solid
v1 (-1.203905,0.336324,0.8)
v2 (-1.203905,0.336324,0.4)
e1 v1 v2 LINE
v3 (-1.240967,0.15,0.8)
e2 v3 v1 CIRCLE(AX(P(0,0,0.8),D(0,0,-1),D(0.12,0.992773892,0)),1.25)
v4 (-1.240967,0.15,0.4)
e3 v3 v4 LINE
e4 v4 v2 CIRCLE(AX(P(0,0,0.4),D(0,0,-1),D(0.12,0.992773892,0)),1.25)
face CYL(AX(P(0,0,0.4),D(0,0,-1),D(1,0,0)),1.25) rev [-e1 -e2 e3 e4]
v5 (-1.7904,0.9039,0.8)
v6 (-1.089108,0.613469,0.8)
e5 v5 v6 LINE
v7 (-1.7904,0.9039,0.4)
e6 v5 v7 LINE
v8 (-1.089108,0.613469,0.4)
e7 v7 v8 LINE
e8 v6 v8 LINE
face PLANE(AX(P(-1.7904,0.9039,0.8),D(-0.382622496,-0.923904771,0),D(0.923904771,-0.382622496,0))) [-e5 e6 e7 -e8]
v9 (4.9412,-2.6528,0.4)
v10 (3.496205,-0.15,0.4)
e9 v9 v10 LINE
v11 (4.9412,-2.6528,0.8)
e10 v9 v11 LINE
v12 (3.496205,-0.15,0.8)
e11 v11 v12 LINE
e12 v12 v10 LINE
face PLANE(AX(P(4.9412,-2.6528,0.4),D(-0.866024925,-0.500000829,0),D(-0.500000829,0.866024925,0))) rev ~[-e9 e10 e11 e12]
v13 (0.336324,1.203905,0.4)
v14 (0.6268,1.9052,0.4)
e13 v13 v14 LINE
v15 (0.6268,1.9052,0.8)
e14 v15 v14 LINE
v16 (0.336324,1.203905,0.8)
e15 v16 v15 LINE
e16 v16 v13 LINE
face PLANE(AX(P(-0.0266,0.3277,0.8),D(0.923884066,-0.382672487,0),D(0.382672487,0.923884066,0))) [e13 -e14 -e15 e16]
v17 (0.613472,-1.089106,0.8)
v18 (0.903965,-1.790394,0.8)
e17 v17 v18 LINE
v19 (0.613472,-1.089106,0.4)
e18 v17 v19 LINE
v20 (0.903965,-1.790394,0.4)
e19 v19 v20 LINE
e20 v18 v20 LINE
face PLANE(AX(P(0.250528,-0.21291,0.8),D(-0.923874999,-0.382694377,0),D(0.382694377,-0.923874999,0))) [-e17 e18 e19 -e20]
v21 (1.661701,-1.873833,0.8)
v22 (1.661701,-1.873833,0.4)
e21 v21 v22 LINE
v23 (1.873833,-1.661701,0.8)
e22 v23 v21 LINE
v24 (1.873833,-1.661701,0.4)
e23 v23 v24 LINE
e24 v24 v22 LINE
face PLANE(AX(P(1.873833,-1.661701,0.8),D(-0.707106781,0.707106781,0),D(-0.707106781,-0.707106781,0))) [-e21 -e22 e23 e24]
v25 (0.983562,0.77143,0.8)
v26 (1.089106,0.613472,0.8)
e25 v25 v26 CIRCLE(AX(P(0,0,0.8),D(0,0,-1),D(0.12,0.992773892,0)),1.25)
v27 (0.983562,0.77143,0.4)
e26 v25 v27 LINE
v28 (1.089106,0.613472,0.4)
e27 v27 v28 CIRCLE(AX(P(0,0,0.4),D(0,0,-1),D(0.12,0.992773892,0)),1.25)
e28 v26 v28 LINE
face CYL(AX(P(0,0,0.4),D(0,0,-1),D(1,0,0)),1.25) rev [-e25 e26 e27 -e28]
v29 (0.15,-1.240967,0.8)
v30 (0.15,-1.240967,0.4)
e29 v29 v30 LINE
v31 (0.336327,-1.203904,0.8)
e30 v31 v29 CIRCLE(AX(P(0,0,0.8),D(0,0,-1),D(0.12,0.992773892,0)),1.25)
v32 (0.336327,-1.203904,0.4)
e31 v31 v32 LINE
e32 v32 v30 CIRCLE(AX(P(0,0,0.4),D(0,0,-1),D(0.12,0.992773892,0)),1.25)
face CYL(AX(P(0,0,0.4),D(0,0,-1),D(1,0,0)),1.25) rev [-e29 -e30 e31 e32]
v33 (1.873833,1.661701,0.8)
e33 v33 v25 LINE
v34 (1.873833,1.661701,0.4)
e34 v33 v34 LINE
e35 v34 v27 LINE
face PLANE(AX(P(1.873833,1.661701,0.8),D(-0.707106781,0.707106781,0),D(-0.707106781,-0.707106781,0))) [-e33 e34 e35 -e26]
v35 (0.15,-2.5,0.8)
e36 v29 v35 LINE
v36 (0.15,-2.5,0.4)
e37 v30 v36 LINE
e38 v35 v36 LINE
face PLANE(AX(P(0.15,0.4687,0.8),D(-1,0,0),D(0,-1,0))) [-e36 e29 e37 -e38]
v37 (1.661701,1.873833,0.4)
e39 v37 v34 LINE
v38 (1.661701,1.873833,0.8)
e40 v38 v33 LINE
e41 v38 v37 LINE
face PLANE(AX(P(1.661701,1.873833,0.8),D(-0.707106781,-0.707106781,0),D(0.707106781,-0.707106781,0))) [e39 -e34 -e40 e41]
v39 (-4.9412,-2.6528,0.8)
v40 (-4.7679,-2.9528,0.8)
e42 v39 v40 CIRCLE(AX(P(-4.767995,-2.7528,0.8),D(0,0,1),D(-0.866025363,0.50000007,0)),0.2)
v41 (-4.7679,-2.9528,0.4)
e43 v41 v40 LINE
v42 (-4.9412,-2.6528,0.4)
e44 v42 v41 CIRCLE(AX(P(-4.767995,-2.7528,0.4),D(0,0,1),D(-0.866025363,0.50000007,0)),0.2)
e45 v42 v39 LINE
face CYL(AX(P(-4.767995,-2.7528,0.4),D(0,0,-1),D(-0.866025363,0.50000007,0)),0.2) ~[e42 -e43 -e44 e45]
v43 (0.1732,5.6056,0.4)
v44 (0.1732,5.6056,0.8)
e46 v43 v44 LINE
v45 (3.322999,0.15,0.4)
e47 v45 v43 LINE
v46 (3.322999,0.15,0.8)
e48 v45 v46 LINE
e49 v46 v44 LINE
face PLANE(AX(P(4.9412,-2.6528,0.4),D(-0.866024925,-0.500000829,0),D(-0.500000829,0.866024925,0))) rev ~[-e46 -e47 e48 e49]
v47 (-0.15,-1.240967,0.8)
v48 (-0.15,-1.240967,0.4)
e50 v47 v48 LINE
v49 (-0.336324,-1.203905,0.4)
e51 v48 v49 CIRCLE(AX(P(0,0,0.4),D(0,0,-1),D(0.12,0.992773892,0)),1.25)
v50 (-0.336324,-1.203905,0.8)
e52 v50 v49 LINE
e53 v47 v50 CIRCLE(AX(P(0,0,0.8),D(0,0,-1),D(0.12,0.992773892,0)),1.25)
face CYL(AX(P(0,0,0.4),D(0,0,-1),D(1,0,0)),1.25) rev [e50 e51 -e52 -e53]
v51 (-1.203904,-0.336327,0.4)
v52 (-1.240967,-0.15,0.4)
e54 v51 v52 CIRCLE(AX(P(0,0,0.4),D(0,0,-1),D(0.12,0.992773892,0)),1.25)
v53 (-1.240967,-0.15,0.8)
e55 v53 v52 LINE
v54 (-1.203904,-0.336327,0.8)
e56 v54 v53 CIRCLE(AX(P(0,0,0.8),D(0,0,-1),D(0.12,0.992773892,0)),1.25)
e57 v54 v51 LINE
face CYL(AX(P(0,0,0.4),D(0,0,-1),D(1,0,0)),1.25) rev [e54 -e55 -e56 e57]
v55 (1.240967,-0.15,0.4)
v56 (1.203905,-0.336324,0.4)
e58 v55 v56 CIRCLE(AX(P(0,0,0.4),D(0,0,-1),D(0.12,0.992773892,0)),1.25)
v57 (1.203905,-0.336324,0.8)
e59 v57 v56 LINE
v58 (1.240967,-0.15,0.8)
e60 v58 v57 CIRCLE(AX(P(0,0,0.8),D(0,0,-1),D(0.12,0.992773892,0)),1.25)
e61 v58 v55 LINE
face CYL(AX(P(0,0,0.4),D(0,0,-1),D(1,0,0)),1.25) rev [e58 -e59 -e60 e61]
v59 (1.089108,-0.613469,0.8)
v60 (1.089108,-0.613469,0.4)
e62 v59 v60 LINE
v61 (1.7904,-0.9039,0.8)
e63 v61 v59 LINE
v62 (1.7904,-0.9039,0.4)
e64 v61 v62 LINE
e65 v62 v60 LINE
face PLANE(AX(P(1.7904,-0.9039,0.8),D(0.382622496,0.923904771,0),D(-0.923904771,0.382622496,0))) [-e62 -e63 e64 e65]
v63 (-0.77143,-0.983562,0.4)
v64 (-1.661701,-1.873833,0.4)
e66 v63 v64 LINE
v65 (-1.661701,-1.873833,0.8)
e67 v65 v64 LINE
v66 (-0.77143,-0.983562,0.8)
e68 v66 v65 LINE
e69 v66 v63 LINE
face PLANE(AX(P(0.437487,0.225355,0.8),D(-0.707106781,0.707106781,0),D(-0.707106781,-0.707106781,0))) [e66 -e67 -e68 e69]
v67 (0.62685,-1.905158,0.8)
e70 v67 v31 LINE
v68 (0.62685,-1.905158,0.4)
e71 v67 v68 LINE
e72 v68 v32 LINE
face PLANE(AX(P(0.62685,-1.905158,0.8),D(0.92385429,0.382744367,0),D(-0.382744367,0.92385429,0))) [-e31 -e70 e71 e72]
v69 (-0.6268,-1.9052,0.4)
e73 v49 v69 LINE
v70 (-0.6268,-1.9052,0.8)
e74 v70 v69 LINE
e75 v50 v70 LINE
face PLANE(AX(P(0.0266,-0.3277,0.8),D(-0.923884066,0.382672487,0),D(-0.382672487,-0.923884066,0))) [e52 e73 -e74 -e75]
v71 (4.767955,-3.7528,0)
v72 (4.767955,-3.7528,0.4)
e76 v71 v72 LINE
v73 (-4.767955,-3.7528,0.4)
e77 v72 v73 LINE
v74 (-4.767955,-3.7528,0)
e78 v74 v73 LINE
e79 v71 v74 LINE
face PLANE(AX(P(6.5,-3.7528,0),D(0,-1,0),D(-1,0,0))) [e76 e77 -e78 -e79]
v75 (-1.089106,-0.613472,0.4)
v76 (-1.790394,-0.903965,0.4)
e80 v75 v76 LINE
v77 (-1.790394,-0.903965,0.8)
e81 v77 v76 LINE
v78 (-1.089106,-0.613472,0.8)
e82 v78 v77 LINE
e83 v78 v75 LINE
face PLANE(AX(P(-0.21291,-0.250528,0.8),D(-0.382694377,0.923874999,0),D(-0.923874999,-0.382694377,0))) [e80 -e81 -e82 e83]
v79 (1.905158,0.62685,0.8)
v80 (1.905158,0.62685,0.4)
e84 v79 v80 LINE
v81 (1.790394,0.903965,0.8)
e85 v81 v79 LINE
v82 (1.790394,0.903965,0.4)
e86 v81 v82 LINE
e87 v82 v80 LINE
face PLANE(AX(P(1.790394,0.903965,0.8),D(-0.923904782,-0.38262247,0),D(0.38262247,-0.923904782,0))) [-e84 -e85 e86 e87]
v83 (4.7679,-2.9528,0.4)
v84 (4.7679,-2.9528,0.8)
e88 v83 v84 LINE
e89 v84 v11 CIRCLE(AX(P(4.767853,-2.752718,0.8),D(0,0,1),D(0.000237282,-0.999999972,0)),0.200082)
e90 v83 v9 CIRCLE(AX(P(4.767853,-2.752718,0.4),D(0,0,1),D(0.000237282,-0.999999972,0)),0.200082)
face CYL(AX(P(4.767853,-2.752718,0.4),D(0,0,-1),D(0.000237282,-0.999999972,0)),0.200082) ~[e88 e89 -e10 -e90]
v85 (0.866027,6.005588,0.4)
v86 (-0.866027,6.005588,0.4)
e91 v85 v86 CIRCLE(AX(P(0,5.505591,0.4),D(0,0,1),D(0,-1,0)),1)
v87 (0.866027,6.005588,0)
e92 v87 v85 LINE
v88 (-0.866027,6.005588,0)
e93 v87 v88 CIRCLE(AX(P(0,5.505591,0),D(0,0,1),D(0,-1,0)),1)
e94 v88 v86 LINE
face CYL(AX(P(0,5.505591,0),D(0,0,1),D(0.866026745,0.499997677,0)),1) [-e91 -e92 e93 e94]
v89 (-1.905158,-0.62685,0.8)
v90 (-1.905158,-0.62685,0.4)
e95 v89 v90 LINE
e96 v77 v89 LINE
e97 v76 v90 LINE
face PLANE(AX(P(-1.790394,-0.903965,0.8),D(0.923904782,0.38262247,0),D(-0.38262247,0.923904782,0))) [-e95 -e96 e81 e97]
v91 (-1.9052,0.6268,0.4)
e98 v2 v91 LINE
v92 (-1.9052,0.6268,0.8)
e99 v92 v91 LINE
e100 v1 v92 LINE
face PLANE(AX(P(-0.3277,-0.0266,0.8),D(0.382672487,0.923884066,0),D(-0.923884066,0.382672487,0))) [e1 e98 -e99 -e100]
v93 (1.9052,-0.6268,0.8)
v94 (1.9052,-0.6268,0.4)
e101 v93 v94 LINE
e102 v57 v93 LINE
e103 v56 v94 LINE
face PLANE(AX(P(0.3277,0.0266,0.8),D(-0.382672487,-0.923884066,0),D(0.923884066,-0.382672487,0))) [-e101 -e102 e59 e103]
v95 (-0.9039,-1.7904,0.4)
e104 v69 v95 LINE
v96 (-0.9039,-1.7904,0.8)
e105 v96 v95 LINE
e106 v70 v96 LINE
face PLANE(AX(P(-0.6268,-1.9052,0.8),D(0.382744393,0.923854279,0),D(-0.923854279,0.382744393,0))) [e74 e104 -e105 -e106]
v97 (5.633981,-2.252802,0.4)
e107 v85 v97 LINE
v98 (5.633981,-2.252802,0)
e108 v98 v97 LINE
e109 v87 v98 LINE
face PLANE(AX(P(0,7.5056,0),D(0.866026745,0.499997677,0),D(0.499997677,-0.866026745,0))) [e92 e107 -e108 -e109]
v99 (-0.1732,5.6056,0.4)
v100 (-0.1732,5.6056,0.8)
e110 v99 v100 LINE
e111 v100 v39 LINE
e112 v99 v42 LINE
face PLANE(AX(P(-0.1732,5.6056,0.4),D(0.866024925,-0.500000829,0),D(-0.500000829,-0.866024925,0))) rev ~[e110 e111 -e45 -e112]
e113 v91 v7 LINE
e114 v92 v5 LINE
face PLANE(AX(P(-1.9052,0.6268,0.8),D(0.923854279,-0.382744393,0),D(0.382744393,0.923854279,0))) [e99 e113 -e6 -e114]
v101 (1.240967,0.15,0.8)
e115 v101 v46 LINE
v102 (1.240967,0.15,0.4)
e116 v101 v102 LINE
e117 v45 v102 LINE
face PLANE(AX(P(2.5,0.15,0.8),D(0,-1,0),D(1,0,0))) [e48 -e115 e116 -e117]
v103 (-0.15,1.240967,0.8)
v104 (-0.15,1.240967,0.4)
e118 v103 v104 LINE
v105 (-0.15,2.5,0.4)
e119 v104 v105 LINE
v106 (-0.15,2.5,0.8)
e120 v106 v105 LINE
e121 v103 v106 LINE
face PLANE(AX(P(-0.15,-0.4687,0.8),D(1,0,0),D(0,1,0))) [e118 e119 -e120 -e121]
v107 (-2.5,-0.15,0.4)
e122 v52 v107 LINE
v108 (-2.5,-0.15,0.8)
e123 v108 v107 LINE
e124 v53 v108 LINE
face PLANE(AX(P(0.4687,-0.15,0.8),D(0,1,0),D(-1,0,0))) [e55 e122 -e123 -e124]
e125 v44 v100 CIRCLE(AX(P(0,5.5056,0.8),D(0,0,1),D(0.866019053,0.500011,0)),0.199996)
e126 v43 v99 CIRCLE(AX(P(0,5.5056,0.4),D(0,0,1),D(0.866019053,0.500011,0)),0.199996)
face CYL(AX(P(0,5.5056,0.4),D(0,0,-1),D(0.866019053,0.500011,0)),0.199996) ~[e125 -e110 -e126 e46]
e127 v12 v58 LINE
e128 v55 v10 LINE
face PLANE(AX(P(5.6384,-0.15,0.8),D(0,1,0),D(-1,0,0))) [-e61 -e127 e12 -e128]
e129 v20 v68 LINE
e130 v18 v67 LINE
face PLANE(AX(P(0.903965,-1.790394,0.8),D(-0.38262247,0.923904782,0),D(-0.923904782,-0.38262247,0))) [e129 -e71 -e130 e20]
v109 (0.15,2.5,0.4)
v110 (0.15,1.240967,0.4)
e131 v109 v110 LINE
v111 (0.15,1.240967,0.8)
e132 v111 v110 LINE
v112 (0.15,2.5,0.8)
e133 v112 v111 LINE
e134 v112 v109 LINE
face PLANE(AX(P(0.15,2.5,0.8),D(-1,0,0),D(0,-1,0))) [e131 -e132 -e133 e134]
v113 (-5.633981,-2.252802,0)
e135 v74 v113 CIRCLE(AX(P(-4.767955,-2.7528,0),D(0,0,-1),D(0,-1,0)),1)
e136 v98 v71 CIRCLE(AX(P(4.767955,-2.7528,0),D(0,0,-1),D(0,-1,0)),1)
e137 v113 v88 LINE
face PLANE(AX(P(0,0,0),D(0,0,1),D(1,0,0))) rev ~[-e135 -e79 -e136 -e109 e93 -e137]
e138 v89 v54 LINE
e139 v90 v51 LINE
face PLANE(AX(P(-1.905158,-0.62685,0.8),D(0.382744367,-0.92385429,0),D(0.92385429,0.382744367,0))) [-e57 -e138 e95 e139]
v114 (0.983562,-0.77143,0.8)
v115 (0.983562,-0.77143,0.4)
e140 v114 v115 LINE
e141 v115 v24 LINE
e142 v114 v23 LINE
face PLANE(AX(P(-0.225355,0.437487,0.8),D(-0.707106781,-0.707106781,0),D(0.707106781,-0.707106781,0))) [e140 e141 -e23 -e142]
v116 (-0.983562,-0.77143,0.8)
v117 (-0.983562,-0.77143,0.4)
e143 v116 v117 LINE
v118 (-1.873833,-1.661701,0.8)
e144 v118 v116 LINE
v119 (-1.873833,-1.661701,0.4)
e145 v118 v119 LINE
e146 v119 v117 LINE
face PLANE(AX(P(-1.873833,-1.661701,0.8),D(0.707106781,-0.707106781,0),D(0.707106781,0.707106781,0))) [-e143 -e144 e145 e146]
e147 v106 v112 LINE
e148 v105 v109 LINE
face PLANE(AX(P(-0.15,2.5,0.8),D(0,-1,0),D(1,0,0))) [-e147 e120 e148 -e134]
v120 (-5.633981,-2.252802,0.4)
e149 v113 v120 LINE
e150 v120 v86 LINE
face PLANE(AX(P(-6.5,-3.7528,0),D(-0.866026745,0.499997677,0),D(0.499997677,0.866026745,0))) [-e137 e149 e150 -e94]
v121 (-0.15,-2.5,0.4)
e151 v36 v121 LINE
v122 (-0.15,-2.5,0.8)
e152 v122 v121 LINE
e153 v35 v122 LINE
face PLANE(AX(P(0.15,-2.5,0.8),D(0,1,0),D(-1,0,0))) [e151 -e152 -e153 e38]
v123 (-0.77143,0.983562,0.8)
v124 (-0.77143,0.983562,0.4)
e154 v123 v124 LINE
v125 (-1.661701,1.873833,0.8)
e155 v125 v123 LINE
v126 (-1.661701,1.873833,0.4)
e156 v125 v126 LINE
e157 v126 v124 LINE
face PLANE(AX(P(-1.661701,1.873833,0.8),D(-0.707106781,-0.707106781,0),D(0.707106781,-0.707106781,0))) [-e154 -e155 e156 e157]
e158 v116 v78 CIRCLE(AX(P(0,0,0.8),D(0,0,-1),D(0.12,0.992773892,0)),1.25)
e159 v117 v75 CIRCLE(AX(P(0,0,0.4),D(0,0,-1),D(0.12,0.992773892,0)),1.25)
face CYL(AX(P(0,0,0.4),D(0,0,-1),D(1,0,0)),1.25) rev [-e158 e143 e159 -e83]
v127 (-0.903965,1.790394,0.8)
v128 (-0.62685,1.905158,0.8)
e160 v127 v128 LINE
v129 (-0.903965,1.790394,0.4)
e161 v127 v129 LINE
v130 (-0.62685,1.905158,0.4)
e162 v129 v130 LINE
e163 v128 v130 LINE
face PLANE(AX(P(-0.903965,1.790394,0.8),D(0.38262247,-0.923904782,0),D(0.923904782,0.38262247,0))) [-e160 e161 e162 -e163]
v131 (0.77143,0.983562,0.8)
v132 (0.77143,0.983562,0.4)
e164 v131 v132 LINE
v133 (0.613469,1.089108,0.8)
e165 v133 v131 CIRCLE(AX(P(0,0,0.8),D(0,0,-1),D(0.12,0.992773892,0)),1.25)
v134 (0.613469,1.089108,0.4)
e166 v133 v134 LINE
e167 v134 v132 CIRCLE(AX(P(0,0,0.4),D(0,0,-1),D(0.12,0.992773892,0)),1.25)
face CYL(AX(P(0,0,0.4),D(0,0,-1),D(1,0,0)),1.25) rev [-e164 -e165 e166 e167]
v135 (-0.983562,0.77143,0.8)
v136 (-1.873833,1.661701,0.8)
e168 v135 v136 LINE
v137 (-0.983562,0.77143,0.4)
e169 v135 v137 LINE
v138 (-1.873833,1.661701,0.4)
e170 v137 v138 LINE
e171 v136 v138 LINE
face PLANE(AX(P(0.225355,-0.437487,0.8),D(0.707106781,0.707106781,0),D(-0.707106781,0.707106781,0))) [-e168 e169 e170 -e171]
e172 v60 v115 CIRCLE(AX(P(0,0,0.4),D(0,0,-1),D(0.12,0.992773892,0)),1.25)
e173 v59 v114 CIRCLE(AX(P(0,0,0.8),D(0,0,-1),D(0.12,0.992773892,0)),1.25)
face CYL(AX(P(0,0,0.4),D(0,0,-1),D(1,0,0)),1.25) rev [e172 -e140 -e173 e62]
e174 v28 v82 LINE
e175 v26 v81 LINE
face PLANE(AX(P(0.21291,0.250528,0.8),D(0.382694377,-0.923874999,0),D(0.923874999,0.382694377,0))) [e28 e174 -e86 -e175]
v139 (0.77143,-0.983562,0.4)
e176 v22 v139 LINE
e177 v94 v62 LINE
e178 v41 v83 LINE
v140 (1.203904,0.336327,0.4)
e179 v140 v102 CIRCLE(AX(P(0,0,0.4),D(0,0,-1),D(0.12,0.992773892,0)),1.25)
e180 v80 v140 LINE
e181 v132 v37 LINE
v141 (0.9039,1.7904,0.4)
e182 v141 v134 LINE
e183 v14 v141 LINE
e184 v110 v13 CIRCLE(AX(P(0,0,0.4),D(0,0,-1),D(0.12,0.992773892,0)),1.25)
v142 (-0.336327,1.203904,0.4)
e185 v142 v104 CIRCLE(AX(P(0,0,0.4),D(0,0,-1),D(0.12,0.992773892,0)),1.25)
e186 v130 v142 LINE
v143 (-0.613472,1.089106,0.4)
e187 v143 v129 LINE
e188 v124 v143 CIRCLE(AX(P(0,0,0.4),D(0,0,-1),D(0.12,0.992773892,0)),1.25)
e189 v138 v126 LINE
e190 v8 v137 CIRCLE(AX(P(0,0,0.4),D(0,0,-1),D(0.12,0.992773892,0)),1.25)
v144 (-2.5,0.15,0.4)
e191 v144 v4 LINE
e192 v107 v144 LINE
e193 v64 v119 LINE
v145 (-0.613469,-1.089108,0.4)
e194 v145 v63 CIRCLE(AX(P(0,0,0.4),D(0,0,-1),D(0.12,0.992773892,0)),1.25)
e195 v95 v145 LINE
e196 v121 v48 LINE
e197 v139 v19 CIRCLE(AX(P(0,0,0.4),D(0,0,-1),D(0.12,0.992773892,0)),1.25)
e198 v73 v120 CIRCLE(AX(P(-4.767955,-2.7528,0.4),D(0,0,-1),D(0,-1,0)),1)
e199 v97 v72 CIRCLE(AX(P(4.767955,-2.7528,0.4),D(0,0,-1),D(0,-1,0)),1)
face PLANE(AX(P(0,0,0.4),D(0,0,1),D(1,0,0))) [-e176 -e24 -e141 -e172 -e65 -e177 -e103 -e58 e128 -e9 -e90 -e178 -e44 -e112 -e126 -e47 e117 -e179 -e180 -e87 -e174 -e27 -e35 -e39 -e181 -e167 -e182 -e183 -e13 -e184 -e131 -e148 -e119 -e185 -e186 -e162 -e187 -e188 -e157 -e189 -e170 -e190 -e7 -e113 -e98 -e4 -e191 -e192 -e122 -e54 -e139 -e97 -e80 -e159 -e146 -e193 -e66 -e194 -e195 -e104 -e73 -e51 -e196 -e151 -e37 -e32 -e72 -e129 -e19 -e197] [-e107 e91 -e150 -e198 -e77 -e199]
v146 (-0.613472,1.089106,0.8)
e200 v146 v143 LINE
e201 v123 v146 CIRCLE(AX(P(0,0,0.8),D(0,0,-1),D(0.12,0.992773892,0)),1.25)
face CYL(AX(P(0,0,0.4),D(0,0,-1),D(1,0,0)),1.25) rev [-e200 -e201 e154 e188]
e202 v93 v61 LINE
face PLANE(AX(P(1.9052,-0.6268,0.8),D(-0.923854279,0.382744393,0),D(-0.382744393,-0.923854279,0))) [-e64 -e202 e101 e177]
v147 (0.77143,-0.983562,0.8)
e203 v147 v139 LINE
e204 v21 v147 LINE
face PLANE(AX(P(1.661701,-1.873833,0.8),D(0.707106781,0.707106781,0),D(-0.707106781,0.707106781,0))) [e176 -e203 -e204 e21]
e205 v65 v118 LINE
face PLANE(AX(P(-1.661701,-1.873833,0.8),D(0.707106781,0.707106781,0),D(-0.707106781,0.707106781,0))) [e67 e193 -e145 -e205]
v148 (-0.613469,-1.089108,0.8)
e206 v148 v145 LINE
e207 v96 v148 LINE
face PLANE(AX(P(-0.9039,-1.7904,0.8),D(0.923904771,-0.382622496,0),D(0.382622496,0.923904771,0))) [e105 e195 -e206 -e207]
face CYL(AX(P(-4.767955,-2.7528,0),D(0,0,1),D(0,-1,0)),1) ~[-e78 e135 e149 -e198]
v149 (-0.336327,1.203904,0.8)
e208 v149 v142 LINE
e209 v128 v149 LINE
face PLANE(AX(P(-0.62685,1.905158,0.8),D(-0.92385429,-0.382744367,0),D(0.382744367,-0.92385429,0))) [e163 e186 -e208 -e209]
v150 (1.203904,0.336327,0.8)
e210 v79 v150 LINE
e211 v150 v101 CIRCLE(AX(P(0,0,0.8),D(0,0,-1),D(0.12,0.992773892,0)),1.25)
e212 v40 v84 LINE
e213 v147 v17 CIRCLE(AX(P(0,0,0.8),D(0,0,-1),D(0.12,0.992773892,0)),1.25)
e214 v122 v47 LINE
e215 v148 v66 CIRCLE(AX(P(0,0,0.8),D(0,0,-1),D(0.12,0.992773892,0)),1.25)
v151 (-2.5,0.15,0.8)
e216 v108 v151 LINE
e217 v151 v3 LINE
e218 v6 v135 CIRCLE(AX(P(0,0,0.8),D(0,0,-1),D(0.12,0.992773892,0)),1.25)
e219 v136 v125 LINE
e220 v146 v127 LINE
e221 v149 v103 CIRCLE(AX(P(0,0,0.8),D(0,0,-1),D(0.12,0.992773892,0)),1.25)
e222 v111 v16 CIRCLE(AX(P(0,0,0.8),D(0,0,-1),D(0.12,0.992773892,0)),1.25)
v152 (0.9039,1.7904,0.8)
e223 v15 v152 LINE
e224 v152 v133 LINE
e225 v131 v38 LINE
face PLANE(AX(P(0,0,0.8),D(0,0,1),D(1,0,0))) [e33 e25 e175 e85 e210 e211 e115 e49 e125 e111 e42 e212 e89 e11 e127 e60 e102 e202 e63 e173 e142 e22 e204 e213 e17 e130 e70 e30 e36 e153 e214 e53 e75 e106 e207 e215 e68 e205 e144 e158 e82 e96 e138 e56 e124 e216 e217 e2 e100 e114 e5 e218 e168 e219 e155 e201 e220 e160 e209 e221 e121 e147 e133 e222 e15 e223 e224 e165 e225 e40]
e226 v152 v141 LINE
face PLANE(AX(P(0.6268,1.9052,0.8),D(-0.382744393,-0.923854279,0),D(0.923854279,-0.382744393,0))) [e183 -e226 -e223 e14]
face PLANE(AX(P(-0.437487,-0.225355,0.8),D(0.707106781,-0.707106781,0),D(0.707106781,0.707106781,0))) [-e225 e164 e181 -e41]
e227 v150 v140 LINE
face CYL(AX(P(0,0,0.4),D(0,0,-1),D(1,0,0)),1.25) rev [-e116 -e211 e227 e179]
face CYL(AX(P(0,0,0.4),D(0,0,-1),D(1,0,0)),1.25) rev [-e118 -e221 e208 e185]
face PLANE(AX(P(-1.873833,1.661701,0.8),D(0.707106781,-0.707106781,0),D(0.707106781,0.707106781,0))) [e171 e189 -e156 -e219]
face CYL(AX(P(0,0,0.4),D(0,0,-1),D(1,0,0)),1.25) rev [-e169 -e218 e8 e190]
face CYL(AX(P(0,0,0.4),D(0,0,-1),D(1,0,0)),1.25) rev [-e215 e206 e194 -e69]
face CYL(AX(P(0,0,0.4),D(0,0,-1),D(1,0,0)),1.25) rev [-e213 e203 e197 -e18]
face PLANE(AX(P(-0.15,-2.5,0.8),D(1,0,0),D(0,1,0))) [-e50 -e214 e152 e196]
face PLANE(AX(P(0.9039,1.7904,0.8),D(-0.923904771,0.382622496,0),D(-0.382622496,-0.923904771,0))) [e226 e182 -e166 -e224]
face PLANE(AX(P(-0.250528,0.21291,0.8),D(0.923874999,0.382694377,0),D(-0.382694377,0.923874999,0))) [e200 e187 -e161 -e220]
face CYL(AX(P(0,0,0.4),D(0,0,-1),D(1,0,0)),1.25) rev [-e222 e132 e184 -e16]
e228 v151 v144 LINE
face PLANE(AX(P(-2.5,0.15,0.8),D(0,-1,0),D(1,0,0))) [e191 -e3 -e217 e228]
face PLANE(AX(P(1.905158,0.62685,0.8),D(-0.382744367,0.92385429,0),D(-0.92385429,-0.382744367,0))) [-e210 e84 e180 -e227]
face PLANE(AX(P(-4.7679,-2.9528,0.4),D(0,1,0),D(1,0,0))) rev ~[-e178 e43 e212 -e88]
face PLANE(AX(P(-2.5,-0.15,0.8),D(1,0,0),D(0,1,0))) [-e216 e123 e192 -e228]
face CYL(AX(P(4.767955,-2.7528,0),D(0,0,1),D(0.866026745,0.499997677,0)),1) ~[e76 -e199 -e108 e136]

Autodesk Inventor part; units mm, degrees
ref_plane "YZ Plane" through (0, 0, 0) normal (1, 0, 0) x (0, 1, 0)
ref_plane "XZ Plane" through (0, 0, 0) normal (0, 1, 0) x (-1, 0, 0)
ref_plane "XY Plane" through (0, 0, 0) normal (0, 0, 1) x (1, 0, 0)
sketch "Sketch1" plane through (0, 0, 0) normal (0, 0, 1) x (1, 0, 0)
  line L0 (-9.1, 0) -> (9.1, 0) construction
  line L1 (0, -6.0044) -> (0, 9.7572) construction
  line L2 (0, 7.5056) -> (6.5, -3.7528)
  line L3 (6.5, -3.7528) -> (-6.5, -3.7528)
  line L4 (-6.5, -3.7528) -> (0, 7.5056)
  point P0 (0, 0)
  point P1 (0, 0)
  dimension "d0" = 13
extrude "Extrusion1" add sketch "Sketch1" along normal blind 0.4
fillet "Fillet1" radius 1 3 edges at (-6.5, -3.7528, 0.2) (6.5, -3.7528, 0.2) (0, 7.5056, 0.2)
sketch "Sketch2" plane through (0, 0, 0.4) normal (0, 0, 1) x (1, 0, 0)
  arc A0 (-5.634, -2.2528) -> (-4.7679, -3.7528) centre (-4.7679, -2.7528) ccw projected
  line L0 (-5.634, -2.2528) -> (-0.866, 6.0056) projected
  arc A1 (0.866, 6.0056) -> (-0.866, 6.0056) centre (0, 5.5056) ccw projected
  line L1 (0.866, 6.0056) -> (5.634, -2.2528) projected
  arc A2 (4.7679, -3.7528) -> (5.634, -2.2528) centre (4.7679, -2.7528) ccw projected
  line L2 (4.7679, -3.7528) -> (-4.7679, -3.7528) projected
  line L3 (-0.1732, 5.6056) -> (-4.9412, -2.6528)
  arc A3 (-4.9412, -2.6528) -> (-4.7679, -2.9528) centre (-4.7679, -2.7528) ccw
  line L4 (-4.7679, -2.9528) -> (4.7679, -2.9528)
  arc A4 (4.7679, -2.9528) -> (4.9412, -2.6528) centre (4.7679, -2.7528) ccw
  line L5 (4.9412, -2.6528) -> (0.1732, 5.6056)
  arc A5 (0.1732, 5.6056) -> (-0.1732, 5.6056) centre (0, 5.5056) ccw
  circle A6 centre (0, 0) radius 1.25
  dimension "d4" = 0.8
  dimension "d5" = 2.5
extrude "Extrusion2" add sketch "Sketch2" along normal blind 0.4 contours A5 L5 A4 L4 A3 L3
sketch "Sketch3" plane through (0, 0, 0.8) normal (0, 0, 1) x (1, 0, 0)
  line L0 (-8.0751, 0) -> (8.0751, 0) construction
  line L1 (0, -5.8044) -> (0, 8.5572) construction
  circle A0 centre (0, 0) radius 1.25 construction
  line L2 (-0.15, 2.5) -> (0.15, 2.5)
  line L3 (0.15, 2.5) -> (0.15, -0.4687)
  line L4 (0.15, -0.4687) -> (-0.15, -0.4687)
  line L5 (-0.15, -0.4687) -> (-0.15, 2.5)
  point P0 (0, 2.5)
  dimension "d8" = 0.3
  dimension "d9" = 2.5
extrude "Extrusion3" cut sketch "Sketch3" against normal blind 0.4
pattern_circular "Circular Pattern1" count 8 over 360 about axis through (0, 0, -10) along (0, 0, 1) of "Extrusion3"
sketch "Sketch4" plane through (0, 0, 0.8) normal (0, 0, 1) x (1, 0, 0)
  line L0 (0, -5.8044) -> (0, 8.5572) construction
  line L1 (-8.0751, 0) -> (8.0751, 0) construction
  line L2 (0, 0) -> (1.8051, 4.3579) construction
  line L3 (0.6268, 1.9052) -> (0.9039, 1.7904)
  line L4 (0.9039, 1.7904) -> (0.2506, 0.2129)
  line L5 (0.2506, 0.2129) -> (-0.0266, 0.3277)
  line L6 (-0.0266, 0.3277) -> (0.6268, 1.9052)
  point P0 (0.7654, 1.8478)
  dimension "d15" = 22.5
  dimension "d16" = 0.3
  dimension "d17" = 2
extrude "Extrusion4" cut sketch "Sketch4" against normal blind 0.4
pattern_circular "Circular Pattern2" count 8 over 360 about axis through (0, 0, -10) along (0, 0, 1) of "Extrusion4"
sketch "Sketch5" plane through (0, 0, 0.8) normal (0, 0, 1) x (1, 0, 0)
  line L0 (1.241, 0.15) -> (2.5, 0.15) construction
  line L1 (2.5, -0.15) -> (1.241, -0.15) construction
  line L2 (2.5, 0.15) -> (5.6384, 0.15)
  line L3 (5.6384, 0.15) -> (5.6384, -0.15)
  line L4 (5.6384, -0.15) -> (2.5, -0.15)
  line L5 (2.5, -0.15) -> (2.5, 0.15)
  point P0 (0, 0)
extrude "Extrusion5" cut sketch "Sketch5" against normal blind 0.4
properties part number "P129"
